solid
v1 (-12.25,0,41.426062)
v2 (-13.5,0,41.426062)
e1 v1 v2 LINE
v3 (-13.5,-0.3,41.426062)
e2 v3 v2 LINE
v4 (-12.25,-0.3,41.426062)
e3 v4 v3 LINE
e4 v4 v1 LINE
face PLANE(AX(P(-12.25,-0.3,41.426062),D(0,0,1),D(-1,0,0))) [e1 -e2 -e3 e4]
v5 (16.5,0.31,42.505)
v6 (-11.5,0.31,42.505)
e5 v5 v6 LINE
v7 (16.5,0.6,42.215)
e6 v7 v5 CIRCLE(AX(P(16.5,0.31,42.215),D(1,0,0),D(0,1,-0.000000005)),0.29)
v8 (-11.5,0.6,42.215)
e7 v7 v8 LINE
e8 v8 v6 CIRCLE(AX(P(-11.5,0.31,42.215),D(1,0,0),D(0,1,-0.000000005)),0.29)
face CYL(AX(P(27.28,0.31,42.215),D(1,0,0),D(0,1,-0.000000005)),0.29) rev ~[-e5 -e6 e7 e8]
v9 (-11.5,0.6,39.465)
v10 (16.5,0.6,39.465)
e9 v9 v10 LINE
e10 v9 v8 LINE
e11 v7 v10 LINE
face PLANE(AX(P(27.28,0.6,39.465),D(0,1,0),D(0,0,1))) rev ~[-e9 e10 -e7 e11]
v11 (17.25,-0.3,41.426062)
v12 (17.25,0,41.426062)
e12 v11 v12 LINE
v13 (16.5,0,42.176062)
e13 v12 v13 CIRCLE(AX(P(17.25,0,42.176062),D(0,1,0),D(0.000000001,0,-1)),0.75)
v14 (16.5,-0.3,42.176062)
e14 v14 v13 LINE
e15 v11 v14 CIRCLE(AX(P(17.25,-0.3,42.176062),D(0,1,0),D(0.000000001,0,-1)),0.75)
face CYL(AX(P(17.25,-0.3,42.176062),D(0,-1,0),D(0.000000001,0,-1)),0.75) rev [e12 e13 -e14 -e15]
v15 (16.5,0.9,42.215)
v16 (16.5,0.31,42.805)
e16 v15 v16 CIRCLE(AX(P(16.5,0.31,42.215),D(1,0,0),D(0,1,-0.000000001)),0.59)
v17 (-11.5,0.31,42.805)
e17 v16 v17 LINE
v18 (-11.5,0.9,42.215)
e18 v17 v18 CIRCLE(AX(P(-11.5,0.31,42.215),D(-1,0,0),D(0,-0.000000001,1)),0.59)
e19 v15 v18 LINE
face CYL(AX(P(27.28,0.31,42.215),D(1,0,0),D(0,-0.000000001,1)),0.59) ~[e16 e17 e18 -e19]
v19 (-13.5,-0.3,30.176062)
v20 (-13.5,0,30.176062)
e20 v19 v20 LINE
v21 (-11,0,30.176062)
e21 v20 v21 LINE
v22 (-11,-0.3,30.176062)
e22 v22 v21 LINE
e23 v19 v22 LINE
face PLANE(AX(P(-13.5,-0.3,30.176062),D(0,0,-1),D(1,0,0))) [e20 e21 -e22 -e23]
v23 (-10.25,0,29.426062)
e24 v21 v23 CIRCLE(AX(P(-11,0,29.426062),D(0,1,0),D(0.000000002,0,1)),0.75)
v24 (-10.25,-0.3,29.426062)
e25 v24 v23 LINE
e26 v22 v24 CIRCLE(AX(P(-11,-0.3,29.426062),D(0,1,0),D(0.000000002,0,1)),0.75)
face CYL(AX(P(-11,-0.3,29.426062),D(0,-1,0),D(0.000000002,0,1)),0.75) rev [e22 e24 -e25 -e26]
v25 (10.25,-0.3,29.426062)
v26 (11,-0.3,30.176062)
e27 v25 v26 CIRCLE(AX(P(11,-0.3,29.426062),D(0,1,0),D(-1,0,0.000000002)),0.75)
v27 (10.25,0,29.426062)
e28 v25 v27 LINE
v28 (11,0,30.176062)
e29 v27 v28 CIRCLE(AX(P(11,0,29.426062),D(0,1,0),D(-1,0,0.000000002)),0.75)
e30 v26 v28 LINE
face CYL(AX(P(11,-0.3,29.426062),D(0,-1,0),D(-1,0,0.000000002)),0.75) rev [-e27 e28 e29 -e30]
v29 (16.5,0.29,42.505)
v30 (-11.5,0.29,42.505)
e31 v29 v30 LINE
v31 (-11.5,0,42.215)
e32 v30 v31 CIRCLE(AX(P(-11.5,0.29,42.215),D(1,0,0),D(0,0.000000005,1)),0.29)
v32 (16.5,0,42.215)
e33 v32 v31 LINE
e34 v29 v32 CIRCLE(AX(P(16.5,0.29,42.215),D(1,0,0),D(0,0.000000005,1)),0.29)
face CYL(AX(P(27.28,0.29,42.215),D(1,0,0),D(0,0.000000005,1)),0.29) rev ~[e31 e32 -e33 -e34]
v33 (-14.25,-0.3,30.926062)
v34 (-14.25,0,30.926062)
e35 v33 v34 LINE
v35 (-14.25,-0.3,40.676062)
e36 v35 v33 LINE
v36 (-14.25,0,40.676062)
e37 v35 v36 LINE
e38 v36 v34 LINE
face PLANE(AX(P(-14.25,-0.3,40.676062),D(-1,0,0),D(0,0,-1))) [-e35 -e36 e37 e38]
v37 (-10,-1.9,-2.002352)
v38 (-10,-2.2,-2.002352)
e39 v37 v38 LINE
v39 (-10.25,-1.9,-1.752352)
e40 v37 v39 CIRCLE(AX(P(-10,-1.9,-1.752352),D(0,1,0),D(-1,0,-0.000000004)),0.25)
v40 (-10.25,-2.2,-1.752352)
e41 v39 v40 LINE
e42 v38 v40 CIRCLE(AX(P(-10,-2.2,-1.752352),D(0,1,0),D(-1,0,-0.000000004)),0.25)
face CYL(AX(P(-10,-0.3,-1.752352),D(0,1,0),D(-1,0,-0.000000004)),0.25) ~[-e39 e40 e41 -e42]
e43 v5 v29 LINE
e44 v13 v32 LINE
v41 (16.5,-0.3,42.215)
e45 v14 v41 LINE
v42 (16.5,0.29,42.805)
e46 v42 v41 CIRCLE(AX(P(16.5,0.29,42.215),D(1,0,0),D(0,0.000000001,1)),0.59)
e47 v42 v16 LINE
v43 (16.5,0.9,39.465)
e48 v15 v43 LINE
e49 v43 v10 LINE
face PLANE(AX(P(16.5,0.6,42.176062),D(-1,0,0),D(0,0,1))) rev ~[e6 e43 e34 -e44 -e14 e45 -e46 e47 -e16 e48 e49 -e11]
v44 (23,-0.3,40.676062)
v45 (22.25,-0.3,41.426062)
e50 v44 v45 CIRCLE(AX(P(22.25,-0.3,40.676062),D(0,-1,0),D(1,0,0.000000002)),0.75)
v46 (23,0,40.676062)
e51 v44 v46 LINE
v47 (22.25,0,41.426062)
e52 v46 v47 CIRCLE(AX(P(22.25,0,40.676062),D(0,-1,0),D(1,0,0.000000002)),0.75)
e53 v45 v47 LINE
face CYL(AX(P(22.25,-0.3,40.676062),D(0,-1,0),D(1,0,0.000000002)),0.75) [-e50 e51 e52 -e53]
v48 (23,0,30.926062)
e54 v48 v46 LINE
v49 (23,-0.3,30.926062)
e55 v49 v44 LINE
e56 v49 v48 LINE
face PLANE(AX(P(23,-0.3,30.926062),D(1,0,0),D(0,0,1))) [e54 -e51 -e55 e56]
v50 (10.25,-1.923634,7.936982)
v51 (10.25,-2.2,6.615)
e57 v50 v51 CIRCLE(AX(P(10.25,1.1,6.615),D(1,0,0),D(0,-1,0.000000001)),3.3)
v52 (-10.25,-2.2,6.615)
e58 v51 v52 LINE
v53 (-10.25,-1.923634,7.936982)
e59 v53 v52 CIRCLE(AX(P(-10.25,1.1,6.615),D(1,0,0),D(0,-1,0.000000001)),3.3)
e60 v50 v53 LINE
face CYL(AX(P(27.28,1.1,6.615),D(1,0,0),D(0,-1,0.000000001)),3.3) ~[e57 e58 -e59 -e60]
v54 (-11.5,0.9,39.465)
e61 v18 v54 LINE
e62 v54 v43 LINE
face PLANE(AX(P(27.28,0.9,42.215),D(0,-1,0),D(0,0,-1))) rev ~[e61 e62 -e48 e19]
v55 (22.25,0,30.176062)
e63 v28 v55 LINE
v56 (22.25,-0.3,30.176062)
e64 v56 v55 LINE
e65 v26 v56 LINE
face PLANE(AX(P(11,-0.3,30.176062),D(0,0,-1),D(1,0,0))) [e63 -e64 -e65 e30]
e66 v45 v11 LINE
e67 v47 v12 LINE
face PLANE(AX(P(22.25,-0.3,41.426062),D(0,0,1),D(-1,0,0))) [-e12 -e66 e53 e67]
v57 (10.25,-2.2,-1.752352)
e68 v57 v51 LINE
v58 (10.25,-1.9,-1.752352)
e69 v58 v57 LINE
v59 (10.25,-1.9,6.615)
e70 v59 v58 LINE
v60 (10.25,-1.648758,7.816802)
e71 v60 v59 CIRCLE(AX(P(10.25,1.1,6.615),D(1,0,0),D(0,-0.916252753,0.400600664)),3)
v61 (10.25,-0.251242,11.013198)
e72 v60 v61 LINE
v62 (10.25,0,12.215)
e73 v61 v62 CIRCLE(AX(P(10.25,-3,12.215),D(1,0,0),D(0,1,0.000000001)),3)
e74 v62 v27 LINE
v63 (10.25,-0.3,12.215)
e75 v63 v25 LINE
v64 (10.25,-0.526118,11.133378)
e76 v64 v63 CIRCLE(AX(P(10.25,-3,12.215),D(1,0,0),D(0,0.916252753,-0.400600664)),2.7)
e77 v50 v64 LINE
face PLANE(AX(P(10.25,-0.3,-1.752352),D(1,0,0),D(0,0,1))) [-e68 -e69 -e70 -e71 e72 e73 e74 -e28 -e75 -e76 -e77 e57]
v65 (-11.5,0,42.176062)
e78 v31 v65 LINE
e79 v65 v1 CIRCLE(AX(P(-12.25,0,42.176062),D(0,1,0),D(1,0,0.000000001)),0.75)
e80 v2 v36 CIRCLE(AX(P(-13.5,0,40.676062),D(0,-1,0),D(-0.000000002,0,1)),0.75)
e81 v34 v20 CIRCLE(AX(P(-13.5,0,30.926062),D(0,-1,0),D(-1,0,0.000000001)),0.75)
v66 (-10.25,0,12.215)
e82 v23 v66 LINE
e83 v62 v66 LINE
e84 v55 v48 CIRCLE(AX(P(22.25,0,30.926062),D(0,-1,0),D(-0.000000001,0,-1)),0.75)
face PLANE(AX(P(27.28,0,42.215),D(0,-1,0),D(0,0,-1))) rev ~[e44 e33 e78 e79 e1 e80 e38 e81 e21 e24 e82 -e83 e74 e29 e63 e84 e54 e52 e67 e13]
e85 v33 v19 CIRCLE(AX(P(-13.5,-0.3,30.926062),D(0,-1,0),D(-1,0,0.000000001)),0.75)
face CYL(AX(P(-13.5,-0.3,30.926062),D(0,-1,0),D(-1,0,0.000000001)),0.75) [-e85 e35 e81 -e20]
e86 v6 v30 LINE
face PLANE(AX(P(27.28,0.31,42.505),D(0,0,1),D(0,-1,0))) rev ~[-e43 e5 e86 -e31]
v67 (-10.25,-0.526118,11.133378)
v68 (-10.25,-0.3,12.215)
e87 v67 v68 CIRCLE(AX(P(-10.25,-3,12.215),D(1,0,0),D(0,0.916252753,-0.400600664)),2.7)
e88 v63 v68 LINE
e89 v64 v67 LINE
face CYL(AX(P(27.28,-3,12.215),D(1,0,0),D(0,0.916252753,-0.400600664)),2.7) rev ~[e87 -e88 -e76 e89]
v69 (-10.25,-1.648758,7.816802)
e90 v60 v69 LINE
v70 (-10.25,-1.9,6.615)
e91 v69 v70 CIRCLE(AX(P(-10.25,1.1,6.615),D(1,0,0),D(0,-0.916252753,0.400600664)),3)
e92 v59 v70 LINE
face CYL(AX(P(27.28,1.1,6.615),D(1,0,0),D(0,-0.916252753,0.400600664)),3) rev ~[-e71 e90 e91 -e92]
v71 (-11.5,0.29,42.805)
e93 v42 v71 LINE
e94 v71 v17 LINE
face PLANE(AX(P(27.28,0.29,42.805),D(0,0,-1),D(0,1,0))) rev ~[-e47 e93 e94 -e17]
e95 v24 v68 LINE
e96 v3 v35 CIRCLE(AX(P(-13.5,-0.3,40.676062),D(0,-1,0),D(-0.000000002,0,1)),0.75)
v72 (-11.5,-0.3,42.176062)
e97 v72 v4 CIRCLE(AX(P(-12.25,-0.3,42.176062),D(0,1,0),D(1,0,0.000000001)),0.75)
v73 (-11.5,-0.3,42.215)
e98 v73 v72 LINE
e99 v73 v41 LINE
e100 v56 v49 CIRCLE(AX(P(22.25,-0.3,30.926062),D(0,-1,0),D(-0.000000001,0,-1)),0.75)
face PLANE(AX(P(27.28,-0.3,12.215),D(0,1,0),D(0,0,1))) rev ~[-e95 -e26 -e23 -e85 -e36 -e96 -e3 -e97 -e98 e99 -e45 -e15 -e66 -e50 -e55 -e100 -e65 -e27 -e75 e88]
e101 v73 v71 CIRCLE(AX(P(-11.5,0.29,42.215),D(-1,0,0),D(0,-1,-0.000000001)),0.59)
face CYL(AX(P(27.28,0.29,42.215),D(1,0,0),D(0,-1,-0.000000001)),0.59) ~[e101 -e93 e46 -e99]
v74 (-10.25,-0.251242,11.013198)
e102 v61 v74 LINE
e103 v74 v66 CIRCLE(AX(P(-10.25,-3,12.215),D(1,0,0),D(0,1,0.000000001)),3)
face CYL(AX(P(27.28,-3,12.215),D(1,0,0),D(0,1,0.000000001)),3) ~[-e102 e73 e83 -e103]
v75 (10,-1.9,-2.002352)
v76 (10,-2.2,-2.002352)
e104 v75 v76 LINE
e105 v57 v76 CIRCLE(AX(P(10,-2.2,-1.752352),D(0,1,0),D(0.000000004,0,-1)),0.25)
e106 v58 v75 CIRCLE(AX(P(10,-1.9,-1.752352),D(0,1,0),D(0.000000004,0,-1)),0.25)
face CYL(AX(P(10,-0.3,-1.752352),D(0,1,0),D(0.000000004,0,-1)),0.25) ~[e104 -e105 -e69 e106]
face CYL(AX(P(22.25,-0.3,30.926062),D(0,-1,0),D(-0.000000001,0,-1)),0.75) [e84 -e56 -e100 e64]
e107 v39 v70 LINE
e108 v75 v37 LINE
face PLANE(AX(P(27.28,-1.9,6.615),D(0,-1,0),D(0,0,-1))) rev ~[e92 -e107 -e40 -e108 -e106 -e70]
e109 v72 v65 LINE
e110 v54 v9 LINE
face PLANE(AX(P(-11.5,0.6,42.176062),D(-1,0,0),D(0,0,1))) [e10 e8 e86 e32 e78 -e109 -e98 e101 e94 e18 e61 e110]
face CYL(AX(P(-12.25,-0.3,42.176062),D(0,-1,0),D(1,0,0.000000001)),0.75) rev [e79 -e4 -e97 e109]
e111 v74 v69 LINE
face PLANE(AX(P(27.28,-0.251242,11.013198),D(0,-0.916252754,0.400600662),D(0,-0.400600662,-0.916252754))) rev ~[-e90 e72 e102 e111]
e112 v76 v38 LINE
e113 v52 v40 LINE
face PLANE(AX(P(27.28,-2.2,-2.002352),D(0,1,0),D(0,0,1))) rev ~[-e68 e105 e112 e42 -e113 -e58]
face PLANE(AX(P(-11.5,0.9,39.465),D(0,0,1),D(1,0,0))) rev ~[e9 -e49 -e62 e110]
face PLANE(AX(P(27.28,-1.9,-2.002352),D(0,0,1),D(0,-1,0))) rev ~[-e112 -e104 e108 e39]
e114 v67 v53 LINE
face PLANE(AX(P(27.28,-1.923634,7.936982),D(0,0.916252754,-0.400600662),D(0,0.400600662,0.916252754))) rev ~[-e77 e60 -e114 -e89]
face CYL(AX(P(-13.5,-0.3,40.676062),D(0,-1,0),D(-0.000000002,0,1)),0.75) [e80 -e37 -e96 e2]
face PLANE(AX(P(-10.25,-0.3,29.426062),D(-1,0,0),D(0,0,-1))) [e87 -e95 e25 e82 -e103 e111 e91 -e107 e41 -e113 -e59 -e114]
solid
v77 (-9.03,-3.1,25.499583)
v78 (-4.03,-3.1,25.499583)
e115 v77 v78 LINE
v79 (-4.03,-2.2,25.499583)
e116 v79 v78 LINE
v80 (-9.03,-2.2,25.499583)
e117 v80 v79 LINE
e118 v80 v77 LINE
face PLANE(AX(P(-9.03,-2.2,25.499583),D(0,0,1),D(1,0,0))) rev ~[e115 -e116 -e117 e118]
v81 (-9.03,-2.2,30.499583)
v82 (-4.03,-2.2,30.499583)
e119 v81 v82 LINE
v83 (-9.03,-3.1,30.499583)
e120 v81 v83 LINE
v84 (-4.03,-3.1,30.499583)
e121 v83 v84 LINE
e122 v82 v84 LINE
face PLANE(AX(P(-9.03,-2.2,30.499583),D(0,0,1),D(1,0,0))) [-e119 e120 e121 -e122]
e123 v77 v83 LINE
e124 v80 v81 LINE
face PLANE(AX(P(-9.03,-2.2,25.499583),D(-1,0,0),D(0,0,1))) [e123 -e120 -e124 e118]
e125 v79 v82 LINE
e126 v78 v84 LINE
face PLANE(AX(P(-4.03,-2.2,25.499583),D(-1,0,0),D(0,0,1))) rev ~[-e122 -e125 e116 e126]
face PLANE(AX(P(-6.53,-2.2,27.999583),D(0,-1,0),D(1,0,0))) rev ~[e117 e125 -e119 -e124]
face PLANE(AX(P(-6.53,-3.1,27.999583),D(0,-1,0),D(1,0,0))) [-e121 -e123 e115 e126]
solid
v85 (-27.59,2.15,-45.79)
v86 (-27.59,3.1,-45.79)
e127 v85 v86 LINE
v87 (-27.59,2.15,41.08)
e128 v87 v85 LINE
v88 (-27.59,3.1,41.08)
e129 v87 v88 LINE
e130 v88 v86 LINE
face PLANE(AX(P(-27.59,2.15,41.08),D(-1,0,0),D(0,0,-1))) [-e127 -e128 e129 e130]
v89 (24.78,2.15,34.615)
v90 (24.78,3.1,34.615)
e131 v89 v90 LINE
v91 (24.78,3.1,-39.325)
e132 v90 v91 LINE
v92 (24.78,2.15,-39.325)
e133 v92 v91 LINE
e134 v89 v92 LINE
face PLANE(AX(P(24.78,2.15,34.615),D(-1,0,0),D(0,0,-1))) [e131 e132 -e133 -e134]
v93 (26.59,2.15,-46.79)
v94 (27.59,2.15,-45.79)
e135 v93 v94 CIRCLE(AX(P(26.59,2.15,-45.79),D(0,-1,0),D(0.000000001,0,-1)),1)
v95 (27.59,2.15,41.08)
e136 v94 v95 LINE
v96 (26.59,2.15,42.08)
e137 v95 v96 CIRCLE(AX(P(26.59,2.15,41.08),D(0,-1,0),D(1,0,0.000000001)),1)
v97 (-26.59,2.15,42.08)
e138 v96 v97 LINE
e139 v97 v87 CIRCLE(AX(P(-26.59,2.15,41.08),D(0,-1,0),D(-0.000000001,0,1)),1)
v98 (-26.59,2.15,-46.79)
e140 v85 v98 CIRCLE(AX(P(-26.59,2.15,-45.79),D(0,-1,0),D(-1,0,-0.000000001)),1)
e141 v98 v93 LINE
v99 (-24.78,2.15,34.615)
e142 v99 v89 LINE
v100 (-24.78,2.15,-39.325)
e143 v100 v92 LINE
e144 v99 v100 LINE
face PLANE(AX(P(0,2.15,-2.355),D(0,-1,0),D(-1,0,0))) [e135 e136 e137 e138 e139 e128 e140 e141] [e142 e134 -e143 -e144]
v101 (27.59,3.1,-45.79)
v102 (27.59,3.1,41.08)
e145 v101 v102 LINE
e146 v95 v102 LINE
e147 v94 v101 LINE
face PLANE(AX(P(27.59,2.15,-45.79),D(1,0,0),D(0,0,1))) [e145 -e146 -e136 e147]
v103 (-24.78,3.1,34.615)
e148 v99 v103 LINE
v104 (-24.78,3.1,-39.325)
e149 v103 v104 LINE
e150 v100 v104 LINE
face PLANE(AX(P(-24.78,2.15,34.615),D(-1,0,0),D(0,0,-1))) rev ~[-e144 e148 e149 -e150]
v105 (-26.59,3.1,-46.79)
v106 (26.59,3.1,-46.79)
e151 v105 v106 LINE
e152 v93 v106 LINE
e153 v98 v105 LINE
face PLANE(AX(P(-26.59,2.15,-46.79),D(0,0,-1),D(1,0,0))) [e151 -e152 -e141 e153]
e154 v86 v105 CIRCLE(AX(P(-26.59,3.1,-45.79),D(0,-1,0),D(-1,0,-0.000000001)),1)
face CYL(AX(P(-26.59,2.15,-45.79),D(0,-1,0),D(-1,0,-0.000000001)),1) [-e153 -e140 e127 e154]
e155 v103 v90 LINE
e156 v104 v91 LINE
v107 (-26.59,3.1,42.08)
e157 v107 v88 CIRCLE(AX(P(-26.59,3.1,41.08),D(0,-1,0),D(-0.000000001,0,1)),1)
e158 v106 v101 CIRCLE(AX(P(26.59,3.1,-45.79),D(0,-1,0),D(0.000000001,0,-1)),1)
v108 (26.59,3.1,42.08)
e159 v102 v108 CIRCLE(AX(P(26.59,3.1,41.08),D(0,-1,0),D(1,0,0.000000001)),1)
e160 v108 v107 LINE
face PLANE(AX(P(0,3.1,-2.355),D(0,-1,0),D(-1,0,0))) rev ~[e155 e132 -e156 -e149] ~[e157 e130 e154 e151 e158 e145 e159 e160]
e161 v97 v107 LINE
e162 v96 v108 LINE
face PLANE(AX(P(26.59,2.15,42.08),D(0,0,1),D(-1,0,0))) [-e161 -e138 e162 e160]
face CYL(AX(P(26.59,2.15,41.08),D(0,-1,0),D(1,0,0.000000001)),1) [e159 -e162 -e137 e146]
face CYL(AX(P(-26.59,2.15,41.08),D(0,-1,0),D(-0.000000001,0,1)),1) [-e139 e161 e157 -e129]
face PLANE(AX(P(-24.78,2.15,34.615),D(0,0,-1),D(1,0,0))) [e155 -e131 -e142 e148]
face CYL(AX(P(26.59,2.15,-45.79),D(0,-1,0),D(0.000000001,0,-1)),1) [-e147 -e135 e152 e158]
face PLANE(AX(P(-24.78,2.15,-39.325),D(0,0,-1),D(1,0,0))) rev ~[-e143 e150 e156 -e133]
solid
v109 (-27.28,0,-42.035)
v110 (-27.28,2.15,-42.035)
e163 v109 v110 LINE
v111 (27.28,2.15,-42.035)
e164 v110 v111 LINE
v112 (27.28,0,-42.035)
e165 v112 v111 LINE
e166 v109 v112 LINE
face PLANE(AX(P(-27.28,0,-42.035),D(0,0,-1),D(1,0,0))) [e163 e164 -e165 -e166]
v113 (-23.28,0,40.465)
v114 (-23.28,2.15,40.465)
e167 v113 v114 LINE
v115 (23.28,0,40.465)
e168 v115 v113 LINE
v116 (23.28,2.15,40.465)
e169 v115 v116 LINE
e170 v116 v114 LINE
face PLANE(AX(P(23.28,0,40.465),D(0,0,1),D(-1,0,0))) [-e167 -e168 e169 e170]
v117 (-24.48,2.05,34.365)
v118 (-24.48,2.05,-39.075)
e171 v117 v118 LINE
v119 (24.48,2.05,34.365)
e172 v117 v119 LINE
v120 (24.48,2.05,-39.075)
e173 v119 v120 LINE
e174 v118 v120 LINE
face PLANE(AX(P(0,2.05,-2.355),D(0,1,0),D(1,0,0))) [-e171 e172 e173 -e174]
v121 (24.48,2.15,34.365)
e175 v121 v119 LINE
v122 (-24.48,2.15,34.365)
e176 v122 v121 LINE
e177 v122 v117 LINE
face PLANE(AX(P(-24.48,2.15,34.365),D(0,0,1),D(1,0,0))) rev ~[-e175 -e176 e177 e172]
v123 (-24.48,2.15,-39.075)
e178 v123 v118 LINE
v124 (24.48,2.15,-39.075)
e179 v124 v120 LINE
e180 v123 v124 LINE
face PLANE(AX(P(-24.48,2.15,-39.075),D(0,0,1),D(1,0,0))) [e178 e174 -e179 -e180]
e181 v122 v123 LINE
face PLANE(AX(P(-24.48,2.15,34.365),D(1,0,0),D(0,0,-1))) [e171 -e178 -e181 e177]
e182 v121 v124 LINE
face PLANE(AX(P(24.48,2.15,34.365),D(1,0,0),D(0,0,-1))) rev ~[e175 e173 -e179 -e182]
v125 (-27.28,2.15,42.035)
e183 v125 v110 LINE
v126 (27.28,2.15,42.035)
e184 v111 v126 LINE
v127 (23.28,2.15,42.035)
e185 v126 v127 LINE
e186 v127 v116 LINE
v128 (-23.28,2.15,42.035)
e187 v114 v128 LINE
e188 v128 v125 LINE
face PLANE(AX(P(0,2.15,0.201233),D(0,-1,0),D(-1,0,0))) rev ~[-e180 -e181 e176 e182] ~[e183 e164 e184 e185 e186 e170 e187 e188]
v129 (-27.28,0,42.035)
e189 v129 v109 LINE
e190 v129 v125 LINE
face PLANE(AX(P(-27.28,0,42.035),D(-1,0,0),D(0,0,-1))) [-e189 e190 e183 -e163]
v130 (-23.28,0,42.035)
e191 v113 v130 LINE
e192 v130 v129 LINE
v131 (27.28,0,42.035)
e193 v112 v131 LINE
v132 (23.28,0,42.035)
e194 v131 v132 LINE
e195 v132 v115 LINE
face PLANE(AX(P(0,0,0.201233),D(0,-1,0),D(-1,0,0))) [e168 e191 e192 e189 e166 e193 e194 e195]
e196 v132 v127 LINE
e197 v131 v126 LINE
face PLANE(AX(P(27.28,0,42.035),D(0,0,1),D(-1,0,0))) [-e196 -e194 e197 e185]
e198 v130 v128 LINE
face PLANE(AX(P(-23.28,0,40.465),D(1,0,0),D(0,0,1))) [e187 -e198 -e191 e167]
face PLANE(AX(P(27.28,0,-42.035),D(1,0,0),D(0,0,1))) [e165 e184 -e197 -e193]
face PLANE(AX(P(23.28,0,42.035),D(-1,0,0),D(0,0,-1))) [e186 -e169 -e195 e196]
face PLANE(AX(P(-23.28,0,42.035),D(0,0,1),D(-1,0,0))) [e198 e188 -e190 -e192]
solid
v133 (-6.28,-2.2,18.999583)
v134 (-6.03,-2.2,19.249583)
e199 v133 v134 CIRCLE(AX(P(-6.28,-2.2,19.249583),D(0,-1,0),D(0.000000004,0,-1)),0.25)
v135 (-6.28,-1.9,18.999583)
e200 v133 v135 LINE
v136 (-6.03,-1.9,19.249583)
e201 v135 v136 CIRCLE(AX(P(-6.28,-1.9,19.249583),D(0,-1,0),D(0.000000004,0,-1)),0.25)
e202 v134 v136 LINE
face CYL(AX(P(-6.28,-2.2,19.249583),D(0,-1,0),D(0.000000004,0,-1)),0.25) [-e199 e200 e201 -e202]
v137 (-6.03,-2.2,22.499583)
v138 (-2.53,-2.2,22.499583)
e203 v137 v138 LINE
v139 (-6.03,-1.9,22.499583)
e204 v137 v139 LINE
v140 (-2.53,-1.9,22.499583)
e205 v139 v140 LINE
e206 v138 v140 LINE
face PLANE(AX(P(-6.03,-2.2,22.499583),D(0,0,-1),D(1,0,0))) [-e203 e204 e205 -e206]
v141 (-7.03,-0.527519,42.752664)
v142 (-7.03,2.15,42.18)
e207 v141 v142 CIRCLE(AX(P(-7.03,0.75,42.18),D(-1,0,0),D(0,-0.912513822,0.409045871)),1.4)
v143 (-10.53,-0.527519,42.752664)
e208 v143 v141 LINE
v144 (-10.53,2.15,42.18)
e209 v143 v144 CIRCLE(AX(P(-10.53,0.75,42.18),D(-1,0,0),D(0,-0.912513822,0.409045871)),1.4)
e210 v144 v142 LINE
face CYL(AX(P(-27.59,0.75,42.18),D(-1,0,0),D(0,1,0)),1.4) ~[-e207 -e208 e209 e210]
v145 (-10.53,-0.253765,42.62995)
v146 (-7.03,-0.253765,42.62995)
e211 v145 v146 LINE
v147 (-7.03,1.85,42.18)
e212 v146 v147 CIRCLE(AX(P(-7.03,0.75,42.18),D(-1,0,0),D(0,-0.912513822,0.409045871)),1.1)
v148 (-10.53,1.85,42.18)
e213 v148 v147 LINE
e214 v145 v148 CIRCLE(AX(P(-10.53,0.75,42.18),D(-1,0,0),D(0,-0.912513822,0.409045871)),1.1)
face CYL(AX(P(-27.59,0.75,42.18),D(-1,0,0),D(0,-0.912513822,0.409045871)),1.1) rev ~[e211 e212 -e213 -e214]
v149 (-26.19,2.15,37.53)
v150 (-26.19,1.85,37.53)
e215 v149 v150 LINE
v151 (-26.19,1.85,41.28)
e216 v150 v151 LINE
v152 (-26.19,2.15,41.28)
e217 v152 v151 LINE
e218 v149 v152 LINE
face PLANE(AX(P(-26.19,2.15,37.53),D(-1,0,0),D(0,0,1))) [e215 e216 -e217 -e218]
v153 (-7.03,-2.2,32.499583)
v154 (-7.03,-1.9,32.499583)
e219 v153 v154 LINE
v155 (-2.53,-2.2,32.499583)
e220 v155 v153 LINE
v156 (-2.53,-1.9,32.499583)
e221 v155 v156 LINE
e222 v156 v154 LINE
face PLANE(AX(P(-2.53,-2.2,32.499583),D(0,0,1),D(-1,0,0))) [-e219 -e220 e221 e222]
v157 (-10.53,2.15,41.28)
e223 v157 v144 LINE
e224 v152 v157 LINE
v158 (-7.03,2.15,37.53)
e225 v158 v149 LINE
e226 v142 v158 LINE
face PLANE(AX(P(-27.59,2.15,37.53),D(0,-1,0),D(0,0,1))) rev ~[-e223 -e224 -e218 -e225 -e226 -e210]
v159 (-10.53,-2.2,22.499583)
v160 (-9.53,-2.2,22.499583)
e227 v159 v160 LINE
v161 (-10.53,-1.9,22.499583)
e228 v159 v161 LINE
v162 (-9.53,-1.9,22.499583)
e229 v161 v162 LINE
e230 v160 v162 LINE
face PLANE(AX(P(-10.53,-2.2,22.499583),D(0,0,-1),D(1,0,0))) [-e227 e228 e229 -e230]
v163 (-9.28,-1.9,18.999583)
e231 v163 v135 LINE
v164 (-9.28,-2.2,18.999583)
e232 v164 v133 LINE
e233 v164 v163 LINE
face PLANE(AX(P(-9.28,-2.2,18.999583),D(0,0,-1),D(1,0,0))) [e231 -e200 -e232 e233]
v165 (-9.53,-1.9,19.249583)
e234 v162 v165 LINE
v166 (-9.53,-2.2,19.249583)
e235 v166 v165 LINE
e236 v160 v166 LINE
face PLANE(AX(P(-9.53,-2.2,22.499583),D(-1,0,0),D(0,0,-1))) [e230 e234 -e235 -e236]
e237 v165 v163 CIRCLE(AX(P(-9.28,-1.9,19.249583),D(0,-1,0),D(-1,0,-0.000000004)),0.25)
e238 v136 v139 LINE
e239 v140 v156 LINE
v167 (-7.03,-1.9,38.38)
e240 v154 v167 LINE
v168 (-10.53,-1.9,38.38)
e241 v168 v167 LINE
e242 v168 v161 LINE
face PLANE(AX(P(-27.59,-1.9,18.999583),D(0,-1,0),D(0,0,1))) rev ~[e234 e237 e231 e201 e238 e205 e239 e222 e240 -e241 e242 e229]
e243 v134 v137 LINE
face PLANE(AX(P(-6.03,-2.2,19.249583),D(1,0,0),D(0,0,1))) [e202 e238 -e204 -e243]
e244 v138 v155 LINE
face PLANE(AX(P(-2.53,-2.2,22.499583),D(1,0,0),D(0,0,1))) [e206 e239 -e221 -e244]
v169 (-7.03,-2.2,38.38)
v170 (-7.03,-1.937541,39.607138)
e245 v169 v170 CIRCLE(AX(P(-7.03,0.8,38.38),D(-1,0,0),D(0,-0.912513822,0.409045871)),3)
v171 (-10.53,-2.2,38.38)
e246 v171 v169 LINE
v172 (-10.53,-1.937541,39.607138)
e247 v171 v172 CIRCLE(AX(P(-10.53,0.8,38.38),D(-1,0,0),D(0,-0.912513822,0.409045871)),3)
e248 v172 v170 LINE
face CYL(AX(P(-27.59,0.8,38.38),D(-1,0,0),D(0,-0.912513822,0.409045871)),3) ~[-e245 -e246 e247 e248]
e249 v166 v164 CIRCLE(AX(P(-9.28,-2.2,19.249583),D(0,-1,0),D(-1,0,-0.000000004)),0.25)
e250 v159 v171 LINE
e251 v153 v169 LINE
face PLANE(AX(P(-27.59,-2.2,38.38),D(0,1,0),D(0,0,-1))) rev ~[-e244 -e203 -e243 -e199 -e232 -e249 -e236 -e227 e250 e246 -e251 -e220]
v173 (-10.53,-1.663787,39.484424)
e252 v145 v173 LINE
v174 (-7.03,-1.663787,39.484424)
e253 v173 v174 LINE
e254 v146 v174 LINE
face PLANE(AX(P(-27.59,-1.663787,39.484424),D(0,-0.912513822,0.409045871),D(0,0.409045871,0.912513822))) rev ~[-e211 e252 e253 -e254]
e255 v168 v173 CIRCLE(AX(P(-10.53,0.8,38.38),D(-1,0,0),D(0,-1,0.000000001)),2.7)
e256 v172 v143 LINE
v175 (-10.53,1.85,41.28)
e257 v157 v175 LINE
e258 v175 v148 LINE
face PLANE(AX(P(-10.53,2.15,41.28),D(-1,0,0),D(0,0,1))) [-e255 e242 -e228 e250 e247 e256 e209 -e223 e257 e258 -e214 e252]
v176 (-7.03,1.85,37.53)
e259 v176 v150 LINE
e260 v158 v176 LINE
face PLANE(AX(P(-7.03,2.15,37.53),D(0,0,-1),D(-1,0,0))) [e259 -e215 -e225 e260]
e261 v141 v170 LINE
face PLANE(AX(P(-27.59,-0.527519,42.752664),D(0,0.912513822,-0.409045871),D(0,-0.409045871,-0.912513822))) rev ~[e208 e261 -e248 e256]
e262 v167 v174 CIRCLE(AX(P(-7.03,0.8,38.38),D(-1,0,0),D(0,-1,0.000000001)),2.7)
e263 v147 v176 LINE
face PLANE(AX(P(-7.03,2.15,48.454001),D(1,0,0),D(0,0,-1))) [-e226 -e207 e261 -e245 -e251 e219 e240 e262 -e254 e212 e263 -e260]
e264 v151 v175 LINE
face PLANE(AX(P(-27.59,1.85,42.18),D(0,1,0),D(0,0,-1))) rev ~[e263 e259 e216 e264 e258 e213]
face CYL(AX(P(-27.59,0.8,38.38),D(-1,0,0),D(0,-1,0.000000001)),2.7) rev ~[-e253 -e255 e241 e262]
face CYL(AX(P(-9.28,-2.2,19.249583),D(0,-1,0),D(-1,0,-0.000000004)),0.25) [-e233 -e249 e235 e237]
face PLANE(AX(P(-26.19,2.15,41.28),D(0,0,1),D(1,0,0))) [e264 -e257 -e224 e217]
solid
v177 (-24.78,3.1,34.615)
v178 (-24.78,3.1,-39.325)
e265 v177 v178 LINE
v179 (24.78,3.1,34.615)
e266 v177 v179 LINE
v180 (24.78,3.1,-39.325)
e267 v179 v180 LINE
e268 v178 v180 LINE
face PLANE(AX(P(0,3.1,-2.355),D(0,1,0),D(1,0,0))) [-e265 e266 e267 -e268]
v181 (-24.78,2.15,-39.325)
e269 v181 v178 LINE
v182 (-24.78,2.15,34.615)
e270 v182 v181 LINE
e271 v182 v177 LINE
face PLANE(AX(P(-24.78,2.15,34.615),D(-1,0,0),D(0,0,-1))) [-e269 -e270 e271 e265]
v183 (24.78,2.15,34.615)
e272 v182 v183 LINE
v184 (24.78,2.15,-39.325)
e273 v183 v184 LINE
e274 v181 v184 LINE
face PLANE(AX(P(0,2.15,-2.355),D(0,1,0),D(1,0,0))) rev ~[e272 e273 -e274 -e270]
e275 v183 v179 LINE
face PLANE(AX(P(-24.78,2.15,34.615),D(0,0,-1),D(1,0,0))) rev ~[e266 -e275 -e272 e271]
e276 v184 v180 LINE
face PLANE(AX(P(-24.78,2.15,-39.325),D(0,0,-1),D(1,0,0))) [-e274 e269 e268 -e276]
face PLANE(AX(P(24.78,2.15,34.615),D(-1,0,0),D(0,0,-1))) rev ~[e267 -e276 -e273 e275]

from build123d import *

# Parameters (mm, degrees)
LCD_BEZEL_DEPTH                 = 2.15
SKETCH2_W                       = 48.96
SKETCH2_H                       = 73.44
LCD_DEPTH                       = 0.1
SKETCH3_W                       = 49.56
SKETCH3_H                       = 73.94
CTP_BEZEL_DEPTH                 = 0.95
SKETCH4_W                       = 49.56
SKETCH4_H                       = 73.94
CTP_WINDOW_DEPTH                = 0.95
CTP_START                       = -27.59
CTP_FPC_FOLDED_EXTRUDE_DEPTH    = 30
SKETCH17_OUTSIDE_W              = 78.384
SKETCH17_OUTSIDE_H              = 113.574
CTP_FPC_FOLDED_ATTACHMENT_DEPTH = 0.3
SKETCH18_OUTSIDE_W              = 78.384
SKETCH18_OUTSIDE_H              = 113.574
CTP_FPC_FOLDED_END_DEPTH        = 0.3
SKETCH28_W                      = 22.56397635
SKETCH28_H                      = 16.140021554
SKETCH28_W_2                    = 17.009896394
SKETCH28_H_2                    = 16.522845441
CTP_FPC_FOLDED_CLEANUP_DEPTH    = 5.05
SKETCH24_W                      = 5
SKETCH24_H                      = 5
CTP_IC_FOLDED_DEPTH             = 0.9
LCD_START                       = 27.28
LCD_FPC_FOLDED_EXTRUDE_DEPTH    = 50
SKETCH26_OUTSIDE_W              = 78.394
SKETCH26_OUTSIDE_H              = 113.584
SKETCH26_OUTSIDE_W_2            = 28
SKETCH26_OUTSIDE_H_2            = 11.282317896
LCD_FPC_FOLDED_ATTACHMENT_DEPTH = 0.3
SKETCH27_OUTSIDE_W              = 78.394
SKETCH27_OUTSIDE_H              = 113.584
LCD_FPC_FOLDED_END_DEPTH        = 3.8
LCD_FPC_FOLDED_END_DEPTH_BACK   = 0.3
SKETCH29_W                      = 16.012596684
SKETCH29_H                      = 10.316486409
SKETCH29_W_2                    = 18.754120511
SKETCH29_H_2                    = 8.206348681
LCD_FPC_FOLDED_CLEANUP_DEPTH    = 0.6


with BuildPart() as part:
    # Sketch1 → LCD Bezel (new body)
    with BuildSketch(Plane(origin=(0, 0, 0), x_dir=(1, 0, 0), z_dir=(0, 1, 0))):
        Polygon((27.28, 42.035), (27.28, -42.035), (23.28, -42.035), (23.28, -40.465), (-23.28, -40.465), (-23.28, -42.035), (-27.28, -42.035), (-27.28, 42.035), align=None)
    extrude(amount=LCD_BEZEL_DEPTH)

    # Sketch2 → LCD (cut)
    with BuildSketch(Plane(origin=(0, 2.15, 0), x_dir=(1, 0, 0), z_dir=(0, 1, 0))):
        with Locations((0, 2.355)):
            Rectangle(SKETCH2_W, SKETCH2_H)
    extrude(amount=-LCD_DEPTH, mode=Mode.SUBTRACT)


with BuildPart() as body_2:
    # Sketch3 → CTP Bezel (new body)
    with BuildSketch(Plane(origin=(0, 2.15, 0), x_dir=(1, 0, 0), z_dir=(0, 1, 0))):
        with BuildLine():
            Line((-26.59, 46.79), (26.59, 46.79))
            ThreePointArc((26.59, 46.79), (27.297106781, 46.497106781), (27.59, 45.79))
            Line((27.59, 45.79), (27.59, -41.08))
            ThreePointArc((27.59, -41.08), (27.297106781, -41.787106781), (26.59, -42.08))
            Line((26.59, -42.08), (-26.59, -42.08))
            ThreePointArc((-26.59, -42.08), (-27.297106781, -41.787106781), (-27.59, -41.08))
            Line((-27.59, -41.08), (-27.59, 45.79))
            ThreePointArc((-27.59, 45.79), (-27.297106781, 46.497106781), (-26.59, 46.79))
        make_face()
        with Locations((0, 2.355)):
            Rectangle(SKETCH3_W, SKETCH3_H, mode=Mode.SUBTRACT)
    extrude(amount=CTP_BEZEL_DEPTH)


with BuildPart() as body_3:
    # Sketch4 → CTP Window (new body)
    with BuildSketch(Plane(origin=(0, 2.15, 0), x_dir=(1, 0, 0), z_dir=(0, 1, 0))):
        with Locations((0, 2.355)):
            Rectangle(SKETCH4_W, SKETCH4_H)
    extrude(amount=CTP_WINDOW_DEPTH)


with BuildPart() as body_4:
    # Sketch16 → CTP FPC Folded Extrude (new body)
    with BuildSketch(Plane(origin=(0, 0, 0), x_dir=(0, 0, -1), z_dir=(1, 0, 0)).offset(CTP_START)):
        with BuildLine():
            Line((-37.53, 2.15), (-42.08, 2.15))
            Line((-42.08, 2.15), (-42.18, 2.15))
            ThreePointArc((-42.18, 2.15), (-43.549037452, 1.042807879), (-42.752664219, -0.527519351))
            Line((-42.752664219, -0.527519351), (-39.607137612, -1.937541466))
            ThreePointArc((-39.607137612, -1.937541466), (-39.007445456, -2.133651683), (-38.38, -2.2))
            Line((-38.38, -2.2), (-18.999583084, -2.2))
            Line((-18.999583084, -2.2), (-18.999583084, -1.9))
            Line((-18.999583084, -1.9), (-38.38, -1.9))
            ThreePointArc((-38.38, -1.9), (-38.94470091, -1.840286515), (-39.484423851, -1.66378732))
            Line((-39.484423851, -1.66378732), (-42.629950458, -0.253765204))
            ThreePointArc((-42.629950458, -0.253765204), (-43.255672284, 0.980063334), (-42.18, 1.85))
            Line((-42.18, 1.85), (-42.08, 1.85))
            Line((-42.08, 1.85), (-37.53, 1.85))
            Line((-37.53, 1.85), (-37.53, 2.15))
        make_face()
    extrude(amount=CTP_FPC_FOLDED_EXTRUDE_DEPTH)

    # Sketch17 outside → CTP FPC Folded Attachment (cut)
    with BuildSketch(Plane.XZ.offset(-2.15)):
        with Locations((0, -1.605)):
            Rectangle(SKETCH17_OUTSIDE_W, SKETCH17_OUTSIDE_H)
        Polygon((-7.03, 48.454000558), (-7.03, 37.53), (-26.19, 37.53), (-26.19, 41.28), (-10.53, 41.28), (-10.53, 48.454000558), align=None, mode=Mode.SUBTRACT)
    extrude(amount=CTP_FPC_FOLDED_ATTACHMENT_DEPTH, mode=Mode.SUBTRACT)

    # Sketch18 outside → CTP FPC Folded End (cut)
    with BuildSketch(Plane.XZ.offset(2.2)):
        with Locations((0, -1.605)):
            Rectangle(SKETCH18_OUTSIDE_W, SKETCH18_OUTSIDE_H)
        with BuildLine():
            Line((-10.53, 49.501364097), (-10.53, 22.499583084))
            Line((-10.53, 22.499583084), (-9.53, 22.499583084))
            Line((-9.53, 22.499583084), (-9.53, 19.249583084))
            ThreePointArc((-9.53, 19.249583084), (-9.456776695, 19.072806389), (-9.28, 18.999583084))
            Line((-9.28, 18.999583084), (-6.28, 18.999583084))
            ThreePointArc((-6.28, 18.999583084), (-6.103223305, 19.072806389), (-6.03, 19.249583084))
            Line((-6.03, 19.249583084), (-6.03, 22.499583084))
            Line((-6.03, 22.499583084), (-2.53, 22.499583084))
            Line((-2.53, 22.499583084), (-2.53, 32.499583084))
            Line((-2.53, 32.499583084), (-7.03, 32.499583084))
            Line((-7.03, 32.499583084), (-7.03, 49.501364097))
            Line((-7.03, 49.501364097), (-10.53, 49.501364097))
        make_face(mode=Mode.SUBTRACT)
    extrude(amount=-CTP_FPC_FOLDED_END_DEPTH, mode=Mode.SUBTRACT)

    # Sketch28 → CTP FPC Folded Cleanup (cut, through all)
    with BuildSketch(Plane.XZ.offset(-1.85)):
        with Locations((-21.811988175, 40.846754759)):
            Rectangle(SKETCH28_W, SKETCH28_H)
        with Locations((1.474948197, 40.761005805)):
            Rectangle(SKETCH28_W_2, SKETCH28_H_2)
    extrude(amount=CTP_FPC_FOLDED_CLEANUP_DEPTH, mode=Mode.SUBTRACT)


with BuildPart() as body_5:
    # Sketch24 → CTP IC Folded (new body)
    with BuildSketch(Plane.XZ.offset(2.2)):
        with Locations((-6.53, 27.999583084)):
            Rectangle(SKETCH24_W, SKETCH24_H)
    extrude(amount=CTP_IC_FOLDED_DEPTH)


with BuildPart() as body_6:
    # Sketch25 → LCD FPC Folded Extrude (new body)
    with BuildSketch(Plane(origin=(0, 0, 0), x_dir=(0, 0, -1), z_dir=(1, 0, 0)).offset(LCD_START)):
        with BuildLine():
            Line((-39.465, 0.6), (-40.465, 0.6))
            Line((-40.465, 0.6), (-42.215, 0.6))
            ThreePointArc((-42.215, 0.6), (-42.420060967, 0.515060967), (-42.505, 0.31))
            Line((-42.505, 0.31), (-42.505, 0.29))
            ThreePointArc((-42.505, 0.29), (-42.420060967, 0.084939033), (-42.215, 0))
            Line((-42.215, 0), (-30.17606187, 0))
            Line((-30.17606187, 0), (-12.215, 0))
            ThreePointArc((-12.215, 0), (-11.601108636, -0.063482097), (-11.013198014, -0.251241738))
            Line((-11.013198014, -0.251241738), (-7.816801986, -1.648758262))
            ThreePointArc((-7.816801986, -1.648758262), (-7.228891364, -1.836517903), (-6.615, -1.9))
            Line((-6.615, -1.9), (2.002351526, -1.9))
            Line((2.002351526, -1.9), (2.002351526, -2.2))
            Line((2.002351526, -2.2), (-6.615, -2.2))
            ThreePointArc((-6.615, -2.2), (-7.2902805, -2.130169693), (-7.936982185, -1.923634089))
            Line((-7.936982185, -1.923634089), (-11.133378212, -0.526117564))
            ThreePointArc((-11.133378212, -0.526117564), (-11.662497773, -0.357133887), (-12.215, -0.3))
            Line((-12.215, -0.3), (-30.17606187, -0.3))
            Line((-30.17606187, -0.3), (-42.215, -0.3))
            ThreePointArc((-42.215, -0.3), (-42.632193001, -0.127193001), (-42.805, 0.29))
            Line((-42.805, 0.29), (-42.805, 0.31))
            ThreePointArc((-42.805, 0.31), (-42.632193001, 0.727193001), (-42.215, 0.9))
            Line((-42.215, 0.9), (-40.465, 0.9))
            Line((-40.465, 0.9), (-39.465, 0.9))
            Line((-39.465, 0.9), (-39.465, 0.6))
        make_face()
    extrude(amount=-LCD_FPC_FOLDED_EXTRUDE_DEPTH)

    # Sketch26 outside → LCD FPC Folded Attachment (cut)
    with BuildSketch(Plane(origin=(0, 0.9, 0), x_dir=(1, 0, 0), z_dir=(0, 1, 0))):
        with Locations((0, 1.605)):
            Rectangle(SKETCH26_OUTSIDE_W, SKETCH26_OUTSIDE_H)
        with Locations((2.5, -45.106158948)):
            Rectangle(SKETCH26_OUTSIDE_W_2, SKETCH26_OUTSIDE_H_2, mode=Mode.SUBTRACT)
    extrude(amount=-LCD_FPC_FOLDED_ATTACHMENT_DEPTH, mode=Mode.SUBTRACT)

    # Sketch27 outside → LCD FPC Folded End (cut, two sides)
    with BuildSketch(Plane.XZ.offset(0.3)) as lcd_fpc_folded_end_sk:
        with Locations((0, -1.605)):
            Rectangle(SKETCH27_OUTSIDE_W, SKETCH27_OUTSIDE_H)
        with BuildLine():
            Line((-10.25, 29.42606187), (-10.25, -1.752351526))
            ThreePointArc((-10.25, -1.752351526), (-10.176776695, -1.929128221), (-10, -2.002351526))
            Line((-10, -2.002351526), (10, -2.002351526))
            ThreePointArc((10, -2.002351526), (10.176776695, -1.929128221), (10.25, -1.752351526))
            Line((10.25, -1.752351526), (10.25, 29.42606187))
            ThreePointArc((10.25, 29.42606187), (10.469669914, 29.956391955), (11, 30.17606187))
            Line((11, 30.17606187), (22.25, 30.17606187))
            ThreePointArc((22.25, 30.17606187), (22.780330086, 30.395731784), (23, 30.92606187))
            Line((23, 30.92606187), (23, 40.67606187))
            ThreePointArc((23, 40.67606187), (22.780330086, 41.206391955), (22.25, 41.42606187))
            Line((22.25, 41.42606187), (17.25, 41.42606187))
            ThreePointArc((17.25, 41.42606187), (16.719669914, 41.645731784), (16.5, 42.17606187))
            Line((16.5, 42.17606187), (16.5, 50.399703005))
            Line((16.5, 50.399703005), (-11.5, 50.399703005))
            Line((-11.5, 50.399703005), (-11.5, 42.17606187))
            ThreePointArc((-11.5, 42.17606187), (-11.719669914, 41.645731784), (-12.25, 41.42606187))
            Line((-12.25, 41.42606187), (-13.5, 41.42606187))
            ThreePointArc((-13.5, 41.42606187), (-14.030330086, 41.206391955), (-14.25, 40.67606187))
            Line((-14.25, 40.67606187), (-14.25, 30.92606187))
            ThreePointArc((-14.25, 30.92606187), (-14.030330086, 30.395731784), (-13.5, 30.17606187))
            Line((-13.5, 30.17606187), (-11, 30.17606187))
            ThreePointArc((-11, 30.17606187), (-10.469669914, 29.956391955), (-10.25, 29.42606187))
        make_face(mode=Mode.SUBTRACT)
    extrude(amount=LCD_FPC_FOLDED_END_DEPTH, mode=Mode.SUBTRACT)
    extrude(lcd_fpc_folded_end_sk.sketch, amount=-LCD_FPC_FOLDED_END_DEPTH_BACK, mode=Mode.SUBTRACT)

    # Sketch29 → LCD FPC Folded Cleanup (cut)
    with BuildSketch(Plane.XZ.offset(-0.6)):
        with Locations((-19.506298342, 47.334305075)):
            Rectangle(SKETCH29_W, SKETCH29_H)
        with Locations((25.877060256, 46.279236211)):
            Rectangle(SKETCH29_W_2, SKETCH29_H_2)
    extrude(amount=LCD_FPC_FOLDED_CLEANUP_DEPTH, mode=Mode.SUBTRACT)


solid = Compound([part.part, body_2.part, body_3.part, body_4.part, body_5.part, body_6.part])
